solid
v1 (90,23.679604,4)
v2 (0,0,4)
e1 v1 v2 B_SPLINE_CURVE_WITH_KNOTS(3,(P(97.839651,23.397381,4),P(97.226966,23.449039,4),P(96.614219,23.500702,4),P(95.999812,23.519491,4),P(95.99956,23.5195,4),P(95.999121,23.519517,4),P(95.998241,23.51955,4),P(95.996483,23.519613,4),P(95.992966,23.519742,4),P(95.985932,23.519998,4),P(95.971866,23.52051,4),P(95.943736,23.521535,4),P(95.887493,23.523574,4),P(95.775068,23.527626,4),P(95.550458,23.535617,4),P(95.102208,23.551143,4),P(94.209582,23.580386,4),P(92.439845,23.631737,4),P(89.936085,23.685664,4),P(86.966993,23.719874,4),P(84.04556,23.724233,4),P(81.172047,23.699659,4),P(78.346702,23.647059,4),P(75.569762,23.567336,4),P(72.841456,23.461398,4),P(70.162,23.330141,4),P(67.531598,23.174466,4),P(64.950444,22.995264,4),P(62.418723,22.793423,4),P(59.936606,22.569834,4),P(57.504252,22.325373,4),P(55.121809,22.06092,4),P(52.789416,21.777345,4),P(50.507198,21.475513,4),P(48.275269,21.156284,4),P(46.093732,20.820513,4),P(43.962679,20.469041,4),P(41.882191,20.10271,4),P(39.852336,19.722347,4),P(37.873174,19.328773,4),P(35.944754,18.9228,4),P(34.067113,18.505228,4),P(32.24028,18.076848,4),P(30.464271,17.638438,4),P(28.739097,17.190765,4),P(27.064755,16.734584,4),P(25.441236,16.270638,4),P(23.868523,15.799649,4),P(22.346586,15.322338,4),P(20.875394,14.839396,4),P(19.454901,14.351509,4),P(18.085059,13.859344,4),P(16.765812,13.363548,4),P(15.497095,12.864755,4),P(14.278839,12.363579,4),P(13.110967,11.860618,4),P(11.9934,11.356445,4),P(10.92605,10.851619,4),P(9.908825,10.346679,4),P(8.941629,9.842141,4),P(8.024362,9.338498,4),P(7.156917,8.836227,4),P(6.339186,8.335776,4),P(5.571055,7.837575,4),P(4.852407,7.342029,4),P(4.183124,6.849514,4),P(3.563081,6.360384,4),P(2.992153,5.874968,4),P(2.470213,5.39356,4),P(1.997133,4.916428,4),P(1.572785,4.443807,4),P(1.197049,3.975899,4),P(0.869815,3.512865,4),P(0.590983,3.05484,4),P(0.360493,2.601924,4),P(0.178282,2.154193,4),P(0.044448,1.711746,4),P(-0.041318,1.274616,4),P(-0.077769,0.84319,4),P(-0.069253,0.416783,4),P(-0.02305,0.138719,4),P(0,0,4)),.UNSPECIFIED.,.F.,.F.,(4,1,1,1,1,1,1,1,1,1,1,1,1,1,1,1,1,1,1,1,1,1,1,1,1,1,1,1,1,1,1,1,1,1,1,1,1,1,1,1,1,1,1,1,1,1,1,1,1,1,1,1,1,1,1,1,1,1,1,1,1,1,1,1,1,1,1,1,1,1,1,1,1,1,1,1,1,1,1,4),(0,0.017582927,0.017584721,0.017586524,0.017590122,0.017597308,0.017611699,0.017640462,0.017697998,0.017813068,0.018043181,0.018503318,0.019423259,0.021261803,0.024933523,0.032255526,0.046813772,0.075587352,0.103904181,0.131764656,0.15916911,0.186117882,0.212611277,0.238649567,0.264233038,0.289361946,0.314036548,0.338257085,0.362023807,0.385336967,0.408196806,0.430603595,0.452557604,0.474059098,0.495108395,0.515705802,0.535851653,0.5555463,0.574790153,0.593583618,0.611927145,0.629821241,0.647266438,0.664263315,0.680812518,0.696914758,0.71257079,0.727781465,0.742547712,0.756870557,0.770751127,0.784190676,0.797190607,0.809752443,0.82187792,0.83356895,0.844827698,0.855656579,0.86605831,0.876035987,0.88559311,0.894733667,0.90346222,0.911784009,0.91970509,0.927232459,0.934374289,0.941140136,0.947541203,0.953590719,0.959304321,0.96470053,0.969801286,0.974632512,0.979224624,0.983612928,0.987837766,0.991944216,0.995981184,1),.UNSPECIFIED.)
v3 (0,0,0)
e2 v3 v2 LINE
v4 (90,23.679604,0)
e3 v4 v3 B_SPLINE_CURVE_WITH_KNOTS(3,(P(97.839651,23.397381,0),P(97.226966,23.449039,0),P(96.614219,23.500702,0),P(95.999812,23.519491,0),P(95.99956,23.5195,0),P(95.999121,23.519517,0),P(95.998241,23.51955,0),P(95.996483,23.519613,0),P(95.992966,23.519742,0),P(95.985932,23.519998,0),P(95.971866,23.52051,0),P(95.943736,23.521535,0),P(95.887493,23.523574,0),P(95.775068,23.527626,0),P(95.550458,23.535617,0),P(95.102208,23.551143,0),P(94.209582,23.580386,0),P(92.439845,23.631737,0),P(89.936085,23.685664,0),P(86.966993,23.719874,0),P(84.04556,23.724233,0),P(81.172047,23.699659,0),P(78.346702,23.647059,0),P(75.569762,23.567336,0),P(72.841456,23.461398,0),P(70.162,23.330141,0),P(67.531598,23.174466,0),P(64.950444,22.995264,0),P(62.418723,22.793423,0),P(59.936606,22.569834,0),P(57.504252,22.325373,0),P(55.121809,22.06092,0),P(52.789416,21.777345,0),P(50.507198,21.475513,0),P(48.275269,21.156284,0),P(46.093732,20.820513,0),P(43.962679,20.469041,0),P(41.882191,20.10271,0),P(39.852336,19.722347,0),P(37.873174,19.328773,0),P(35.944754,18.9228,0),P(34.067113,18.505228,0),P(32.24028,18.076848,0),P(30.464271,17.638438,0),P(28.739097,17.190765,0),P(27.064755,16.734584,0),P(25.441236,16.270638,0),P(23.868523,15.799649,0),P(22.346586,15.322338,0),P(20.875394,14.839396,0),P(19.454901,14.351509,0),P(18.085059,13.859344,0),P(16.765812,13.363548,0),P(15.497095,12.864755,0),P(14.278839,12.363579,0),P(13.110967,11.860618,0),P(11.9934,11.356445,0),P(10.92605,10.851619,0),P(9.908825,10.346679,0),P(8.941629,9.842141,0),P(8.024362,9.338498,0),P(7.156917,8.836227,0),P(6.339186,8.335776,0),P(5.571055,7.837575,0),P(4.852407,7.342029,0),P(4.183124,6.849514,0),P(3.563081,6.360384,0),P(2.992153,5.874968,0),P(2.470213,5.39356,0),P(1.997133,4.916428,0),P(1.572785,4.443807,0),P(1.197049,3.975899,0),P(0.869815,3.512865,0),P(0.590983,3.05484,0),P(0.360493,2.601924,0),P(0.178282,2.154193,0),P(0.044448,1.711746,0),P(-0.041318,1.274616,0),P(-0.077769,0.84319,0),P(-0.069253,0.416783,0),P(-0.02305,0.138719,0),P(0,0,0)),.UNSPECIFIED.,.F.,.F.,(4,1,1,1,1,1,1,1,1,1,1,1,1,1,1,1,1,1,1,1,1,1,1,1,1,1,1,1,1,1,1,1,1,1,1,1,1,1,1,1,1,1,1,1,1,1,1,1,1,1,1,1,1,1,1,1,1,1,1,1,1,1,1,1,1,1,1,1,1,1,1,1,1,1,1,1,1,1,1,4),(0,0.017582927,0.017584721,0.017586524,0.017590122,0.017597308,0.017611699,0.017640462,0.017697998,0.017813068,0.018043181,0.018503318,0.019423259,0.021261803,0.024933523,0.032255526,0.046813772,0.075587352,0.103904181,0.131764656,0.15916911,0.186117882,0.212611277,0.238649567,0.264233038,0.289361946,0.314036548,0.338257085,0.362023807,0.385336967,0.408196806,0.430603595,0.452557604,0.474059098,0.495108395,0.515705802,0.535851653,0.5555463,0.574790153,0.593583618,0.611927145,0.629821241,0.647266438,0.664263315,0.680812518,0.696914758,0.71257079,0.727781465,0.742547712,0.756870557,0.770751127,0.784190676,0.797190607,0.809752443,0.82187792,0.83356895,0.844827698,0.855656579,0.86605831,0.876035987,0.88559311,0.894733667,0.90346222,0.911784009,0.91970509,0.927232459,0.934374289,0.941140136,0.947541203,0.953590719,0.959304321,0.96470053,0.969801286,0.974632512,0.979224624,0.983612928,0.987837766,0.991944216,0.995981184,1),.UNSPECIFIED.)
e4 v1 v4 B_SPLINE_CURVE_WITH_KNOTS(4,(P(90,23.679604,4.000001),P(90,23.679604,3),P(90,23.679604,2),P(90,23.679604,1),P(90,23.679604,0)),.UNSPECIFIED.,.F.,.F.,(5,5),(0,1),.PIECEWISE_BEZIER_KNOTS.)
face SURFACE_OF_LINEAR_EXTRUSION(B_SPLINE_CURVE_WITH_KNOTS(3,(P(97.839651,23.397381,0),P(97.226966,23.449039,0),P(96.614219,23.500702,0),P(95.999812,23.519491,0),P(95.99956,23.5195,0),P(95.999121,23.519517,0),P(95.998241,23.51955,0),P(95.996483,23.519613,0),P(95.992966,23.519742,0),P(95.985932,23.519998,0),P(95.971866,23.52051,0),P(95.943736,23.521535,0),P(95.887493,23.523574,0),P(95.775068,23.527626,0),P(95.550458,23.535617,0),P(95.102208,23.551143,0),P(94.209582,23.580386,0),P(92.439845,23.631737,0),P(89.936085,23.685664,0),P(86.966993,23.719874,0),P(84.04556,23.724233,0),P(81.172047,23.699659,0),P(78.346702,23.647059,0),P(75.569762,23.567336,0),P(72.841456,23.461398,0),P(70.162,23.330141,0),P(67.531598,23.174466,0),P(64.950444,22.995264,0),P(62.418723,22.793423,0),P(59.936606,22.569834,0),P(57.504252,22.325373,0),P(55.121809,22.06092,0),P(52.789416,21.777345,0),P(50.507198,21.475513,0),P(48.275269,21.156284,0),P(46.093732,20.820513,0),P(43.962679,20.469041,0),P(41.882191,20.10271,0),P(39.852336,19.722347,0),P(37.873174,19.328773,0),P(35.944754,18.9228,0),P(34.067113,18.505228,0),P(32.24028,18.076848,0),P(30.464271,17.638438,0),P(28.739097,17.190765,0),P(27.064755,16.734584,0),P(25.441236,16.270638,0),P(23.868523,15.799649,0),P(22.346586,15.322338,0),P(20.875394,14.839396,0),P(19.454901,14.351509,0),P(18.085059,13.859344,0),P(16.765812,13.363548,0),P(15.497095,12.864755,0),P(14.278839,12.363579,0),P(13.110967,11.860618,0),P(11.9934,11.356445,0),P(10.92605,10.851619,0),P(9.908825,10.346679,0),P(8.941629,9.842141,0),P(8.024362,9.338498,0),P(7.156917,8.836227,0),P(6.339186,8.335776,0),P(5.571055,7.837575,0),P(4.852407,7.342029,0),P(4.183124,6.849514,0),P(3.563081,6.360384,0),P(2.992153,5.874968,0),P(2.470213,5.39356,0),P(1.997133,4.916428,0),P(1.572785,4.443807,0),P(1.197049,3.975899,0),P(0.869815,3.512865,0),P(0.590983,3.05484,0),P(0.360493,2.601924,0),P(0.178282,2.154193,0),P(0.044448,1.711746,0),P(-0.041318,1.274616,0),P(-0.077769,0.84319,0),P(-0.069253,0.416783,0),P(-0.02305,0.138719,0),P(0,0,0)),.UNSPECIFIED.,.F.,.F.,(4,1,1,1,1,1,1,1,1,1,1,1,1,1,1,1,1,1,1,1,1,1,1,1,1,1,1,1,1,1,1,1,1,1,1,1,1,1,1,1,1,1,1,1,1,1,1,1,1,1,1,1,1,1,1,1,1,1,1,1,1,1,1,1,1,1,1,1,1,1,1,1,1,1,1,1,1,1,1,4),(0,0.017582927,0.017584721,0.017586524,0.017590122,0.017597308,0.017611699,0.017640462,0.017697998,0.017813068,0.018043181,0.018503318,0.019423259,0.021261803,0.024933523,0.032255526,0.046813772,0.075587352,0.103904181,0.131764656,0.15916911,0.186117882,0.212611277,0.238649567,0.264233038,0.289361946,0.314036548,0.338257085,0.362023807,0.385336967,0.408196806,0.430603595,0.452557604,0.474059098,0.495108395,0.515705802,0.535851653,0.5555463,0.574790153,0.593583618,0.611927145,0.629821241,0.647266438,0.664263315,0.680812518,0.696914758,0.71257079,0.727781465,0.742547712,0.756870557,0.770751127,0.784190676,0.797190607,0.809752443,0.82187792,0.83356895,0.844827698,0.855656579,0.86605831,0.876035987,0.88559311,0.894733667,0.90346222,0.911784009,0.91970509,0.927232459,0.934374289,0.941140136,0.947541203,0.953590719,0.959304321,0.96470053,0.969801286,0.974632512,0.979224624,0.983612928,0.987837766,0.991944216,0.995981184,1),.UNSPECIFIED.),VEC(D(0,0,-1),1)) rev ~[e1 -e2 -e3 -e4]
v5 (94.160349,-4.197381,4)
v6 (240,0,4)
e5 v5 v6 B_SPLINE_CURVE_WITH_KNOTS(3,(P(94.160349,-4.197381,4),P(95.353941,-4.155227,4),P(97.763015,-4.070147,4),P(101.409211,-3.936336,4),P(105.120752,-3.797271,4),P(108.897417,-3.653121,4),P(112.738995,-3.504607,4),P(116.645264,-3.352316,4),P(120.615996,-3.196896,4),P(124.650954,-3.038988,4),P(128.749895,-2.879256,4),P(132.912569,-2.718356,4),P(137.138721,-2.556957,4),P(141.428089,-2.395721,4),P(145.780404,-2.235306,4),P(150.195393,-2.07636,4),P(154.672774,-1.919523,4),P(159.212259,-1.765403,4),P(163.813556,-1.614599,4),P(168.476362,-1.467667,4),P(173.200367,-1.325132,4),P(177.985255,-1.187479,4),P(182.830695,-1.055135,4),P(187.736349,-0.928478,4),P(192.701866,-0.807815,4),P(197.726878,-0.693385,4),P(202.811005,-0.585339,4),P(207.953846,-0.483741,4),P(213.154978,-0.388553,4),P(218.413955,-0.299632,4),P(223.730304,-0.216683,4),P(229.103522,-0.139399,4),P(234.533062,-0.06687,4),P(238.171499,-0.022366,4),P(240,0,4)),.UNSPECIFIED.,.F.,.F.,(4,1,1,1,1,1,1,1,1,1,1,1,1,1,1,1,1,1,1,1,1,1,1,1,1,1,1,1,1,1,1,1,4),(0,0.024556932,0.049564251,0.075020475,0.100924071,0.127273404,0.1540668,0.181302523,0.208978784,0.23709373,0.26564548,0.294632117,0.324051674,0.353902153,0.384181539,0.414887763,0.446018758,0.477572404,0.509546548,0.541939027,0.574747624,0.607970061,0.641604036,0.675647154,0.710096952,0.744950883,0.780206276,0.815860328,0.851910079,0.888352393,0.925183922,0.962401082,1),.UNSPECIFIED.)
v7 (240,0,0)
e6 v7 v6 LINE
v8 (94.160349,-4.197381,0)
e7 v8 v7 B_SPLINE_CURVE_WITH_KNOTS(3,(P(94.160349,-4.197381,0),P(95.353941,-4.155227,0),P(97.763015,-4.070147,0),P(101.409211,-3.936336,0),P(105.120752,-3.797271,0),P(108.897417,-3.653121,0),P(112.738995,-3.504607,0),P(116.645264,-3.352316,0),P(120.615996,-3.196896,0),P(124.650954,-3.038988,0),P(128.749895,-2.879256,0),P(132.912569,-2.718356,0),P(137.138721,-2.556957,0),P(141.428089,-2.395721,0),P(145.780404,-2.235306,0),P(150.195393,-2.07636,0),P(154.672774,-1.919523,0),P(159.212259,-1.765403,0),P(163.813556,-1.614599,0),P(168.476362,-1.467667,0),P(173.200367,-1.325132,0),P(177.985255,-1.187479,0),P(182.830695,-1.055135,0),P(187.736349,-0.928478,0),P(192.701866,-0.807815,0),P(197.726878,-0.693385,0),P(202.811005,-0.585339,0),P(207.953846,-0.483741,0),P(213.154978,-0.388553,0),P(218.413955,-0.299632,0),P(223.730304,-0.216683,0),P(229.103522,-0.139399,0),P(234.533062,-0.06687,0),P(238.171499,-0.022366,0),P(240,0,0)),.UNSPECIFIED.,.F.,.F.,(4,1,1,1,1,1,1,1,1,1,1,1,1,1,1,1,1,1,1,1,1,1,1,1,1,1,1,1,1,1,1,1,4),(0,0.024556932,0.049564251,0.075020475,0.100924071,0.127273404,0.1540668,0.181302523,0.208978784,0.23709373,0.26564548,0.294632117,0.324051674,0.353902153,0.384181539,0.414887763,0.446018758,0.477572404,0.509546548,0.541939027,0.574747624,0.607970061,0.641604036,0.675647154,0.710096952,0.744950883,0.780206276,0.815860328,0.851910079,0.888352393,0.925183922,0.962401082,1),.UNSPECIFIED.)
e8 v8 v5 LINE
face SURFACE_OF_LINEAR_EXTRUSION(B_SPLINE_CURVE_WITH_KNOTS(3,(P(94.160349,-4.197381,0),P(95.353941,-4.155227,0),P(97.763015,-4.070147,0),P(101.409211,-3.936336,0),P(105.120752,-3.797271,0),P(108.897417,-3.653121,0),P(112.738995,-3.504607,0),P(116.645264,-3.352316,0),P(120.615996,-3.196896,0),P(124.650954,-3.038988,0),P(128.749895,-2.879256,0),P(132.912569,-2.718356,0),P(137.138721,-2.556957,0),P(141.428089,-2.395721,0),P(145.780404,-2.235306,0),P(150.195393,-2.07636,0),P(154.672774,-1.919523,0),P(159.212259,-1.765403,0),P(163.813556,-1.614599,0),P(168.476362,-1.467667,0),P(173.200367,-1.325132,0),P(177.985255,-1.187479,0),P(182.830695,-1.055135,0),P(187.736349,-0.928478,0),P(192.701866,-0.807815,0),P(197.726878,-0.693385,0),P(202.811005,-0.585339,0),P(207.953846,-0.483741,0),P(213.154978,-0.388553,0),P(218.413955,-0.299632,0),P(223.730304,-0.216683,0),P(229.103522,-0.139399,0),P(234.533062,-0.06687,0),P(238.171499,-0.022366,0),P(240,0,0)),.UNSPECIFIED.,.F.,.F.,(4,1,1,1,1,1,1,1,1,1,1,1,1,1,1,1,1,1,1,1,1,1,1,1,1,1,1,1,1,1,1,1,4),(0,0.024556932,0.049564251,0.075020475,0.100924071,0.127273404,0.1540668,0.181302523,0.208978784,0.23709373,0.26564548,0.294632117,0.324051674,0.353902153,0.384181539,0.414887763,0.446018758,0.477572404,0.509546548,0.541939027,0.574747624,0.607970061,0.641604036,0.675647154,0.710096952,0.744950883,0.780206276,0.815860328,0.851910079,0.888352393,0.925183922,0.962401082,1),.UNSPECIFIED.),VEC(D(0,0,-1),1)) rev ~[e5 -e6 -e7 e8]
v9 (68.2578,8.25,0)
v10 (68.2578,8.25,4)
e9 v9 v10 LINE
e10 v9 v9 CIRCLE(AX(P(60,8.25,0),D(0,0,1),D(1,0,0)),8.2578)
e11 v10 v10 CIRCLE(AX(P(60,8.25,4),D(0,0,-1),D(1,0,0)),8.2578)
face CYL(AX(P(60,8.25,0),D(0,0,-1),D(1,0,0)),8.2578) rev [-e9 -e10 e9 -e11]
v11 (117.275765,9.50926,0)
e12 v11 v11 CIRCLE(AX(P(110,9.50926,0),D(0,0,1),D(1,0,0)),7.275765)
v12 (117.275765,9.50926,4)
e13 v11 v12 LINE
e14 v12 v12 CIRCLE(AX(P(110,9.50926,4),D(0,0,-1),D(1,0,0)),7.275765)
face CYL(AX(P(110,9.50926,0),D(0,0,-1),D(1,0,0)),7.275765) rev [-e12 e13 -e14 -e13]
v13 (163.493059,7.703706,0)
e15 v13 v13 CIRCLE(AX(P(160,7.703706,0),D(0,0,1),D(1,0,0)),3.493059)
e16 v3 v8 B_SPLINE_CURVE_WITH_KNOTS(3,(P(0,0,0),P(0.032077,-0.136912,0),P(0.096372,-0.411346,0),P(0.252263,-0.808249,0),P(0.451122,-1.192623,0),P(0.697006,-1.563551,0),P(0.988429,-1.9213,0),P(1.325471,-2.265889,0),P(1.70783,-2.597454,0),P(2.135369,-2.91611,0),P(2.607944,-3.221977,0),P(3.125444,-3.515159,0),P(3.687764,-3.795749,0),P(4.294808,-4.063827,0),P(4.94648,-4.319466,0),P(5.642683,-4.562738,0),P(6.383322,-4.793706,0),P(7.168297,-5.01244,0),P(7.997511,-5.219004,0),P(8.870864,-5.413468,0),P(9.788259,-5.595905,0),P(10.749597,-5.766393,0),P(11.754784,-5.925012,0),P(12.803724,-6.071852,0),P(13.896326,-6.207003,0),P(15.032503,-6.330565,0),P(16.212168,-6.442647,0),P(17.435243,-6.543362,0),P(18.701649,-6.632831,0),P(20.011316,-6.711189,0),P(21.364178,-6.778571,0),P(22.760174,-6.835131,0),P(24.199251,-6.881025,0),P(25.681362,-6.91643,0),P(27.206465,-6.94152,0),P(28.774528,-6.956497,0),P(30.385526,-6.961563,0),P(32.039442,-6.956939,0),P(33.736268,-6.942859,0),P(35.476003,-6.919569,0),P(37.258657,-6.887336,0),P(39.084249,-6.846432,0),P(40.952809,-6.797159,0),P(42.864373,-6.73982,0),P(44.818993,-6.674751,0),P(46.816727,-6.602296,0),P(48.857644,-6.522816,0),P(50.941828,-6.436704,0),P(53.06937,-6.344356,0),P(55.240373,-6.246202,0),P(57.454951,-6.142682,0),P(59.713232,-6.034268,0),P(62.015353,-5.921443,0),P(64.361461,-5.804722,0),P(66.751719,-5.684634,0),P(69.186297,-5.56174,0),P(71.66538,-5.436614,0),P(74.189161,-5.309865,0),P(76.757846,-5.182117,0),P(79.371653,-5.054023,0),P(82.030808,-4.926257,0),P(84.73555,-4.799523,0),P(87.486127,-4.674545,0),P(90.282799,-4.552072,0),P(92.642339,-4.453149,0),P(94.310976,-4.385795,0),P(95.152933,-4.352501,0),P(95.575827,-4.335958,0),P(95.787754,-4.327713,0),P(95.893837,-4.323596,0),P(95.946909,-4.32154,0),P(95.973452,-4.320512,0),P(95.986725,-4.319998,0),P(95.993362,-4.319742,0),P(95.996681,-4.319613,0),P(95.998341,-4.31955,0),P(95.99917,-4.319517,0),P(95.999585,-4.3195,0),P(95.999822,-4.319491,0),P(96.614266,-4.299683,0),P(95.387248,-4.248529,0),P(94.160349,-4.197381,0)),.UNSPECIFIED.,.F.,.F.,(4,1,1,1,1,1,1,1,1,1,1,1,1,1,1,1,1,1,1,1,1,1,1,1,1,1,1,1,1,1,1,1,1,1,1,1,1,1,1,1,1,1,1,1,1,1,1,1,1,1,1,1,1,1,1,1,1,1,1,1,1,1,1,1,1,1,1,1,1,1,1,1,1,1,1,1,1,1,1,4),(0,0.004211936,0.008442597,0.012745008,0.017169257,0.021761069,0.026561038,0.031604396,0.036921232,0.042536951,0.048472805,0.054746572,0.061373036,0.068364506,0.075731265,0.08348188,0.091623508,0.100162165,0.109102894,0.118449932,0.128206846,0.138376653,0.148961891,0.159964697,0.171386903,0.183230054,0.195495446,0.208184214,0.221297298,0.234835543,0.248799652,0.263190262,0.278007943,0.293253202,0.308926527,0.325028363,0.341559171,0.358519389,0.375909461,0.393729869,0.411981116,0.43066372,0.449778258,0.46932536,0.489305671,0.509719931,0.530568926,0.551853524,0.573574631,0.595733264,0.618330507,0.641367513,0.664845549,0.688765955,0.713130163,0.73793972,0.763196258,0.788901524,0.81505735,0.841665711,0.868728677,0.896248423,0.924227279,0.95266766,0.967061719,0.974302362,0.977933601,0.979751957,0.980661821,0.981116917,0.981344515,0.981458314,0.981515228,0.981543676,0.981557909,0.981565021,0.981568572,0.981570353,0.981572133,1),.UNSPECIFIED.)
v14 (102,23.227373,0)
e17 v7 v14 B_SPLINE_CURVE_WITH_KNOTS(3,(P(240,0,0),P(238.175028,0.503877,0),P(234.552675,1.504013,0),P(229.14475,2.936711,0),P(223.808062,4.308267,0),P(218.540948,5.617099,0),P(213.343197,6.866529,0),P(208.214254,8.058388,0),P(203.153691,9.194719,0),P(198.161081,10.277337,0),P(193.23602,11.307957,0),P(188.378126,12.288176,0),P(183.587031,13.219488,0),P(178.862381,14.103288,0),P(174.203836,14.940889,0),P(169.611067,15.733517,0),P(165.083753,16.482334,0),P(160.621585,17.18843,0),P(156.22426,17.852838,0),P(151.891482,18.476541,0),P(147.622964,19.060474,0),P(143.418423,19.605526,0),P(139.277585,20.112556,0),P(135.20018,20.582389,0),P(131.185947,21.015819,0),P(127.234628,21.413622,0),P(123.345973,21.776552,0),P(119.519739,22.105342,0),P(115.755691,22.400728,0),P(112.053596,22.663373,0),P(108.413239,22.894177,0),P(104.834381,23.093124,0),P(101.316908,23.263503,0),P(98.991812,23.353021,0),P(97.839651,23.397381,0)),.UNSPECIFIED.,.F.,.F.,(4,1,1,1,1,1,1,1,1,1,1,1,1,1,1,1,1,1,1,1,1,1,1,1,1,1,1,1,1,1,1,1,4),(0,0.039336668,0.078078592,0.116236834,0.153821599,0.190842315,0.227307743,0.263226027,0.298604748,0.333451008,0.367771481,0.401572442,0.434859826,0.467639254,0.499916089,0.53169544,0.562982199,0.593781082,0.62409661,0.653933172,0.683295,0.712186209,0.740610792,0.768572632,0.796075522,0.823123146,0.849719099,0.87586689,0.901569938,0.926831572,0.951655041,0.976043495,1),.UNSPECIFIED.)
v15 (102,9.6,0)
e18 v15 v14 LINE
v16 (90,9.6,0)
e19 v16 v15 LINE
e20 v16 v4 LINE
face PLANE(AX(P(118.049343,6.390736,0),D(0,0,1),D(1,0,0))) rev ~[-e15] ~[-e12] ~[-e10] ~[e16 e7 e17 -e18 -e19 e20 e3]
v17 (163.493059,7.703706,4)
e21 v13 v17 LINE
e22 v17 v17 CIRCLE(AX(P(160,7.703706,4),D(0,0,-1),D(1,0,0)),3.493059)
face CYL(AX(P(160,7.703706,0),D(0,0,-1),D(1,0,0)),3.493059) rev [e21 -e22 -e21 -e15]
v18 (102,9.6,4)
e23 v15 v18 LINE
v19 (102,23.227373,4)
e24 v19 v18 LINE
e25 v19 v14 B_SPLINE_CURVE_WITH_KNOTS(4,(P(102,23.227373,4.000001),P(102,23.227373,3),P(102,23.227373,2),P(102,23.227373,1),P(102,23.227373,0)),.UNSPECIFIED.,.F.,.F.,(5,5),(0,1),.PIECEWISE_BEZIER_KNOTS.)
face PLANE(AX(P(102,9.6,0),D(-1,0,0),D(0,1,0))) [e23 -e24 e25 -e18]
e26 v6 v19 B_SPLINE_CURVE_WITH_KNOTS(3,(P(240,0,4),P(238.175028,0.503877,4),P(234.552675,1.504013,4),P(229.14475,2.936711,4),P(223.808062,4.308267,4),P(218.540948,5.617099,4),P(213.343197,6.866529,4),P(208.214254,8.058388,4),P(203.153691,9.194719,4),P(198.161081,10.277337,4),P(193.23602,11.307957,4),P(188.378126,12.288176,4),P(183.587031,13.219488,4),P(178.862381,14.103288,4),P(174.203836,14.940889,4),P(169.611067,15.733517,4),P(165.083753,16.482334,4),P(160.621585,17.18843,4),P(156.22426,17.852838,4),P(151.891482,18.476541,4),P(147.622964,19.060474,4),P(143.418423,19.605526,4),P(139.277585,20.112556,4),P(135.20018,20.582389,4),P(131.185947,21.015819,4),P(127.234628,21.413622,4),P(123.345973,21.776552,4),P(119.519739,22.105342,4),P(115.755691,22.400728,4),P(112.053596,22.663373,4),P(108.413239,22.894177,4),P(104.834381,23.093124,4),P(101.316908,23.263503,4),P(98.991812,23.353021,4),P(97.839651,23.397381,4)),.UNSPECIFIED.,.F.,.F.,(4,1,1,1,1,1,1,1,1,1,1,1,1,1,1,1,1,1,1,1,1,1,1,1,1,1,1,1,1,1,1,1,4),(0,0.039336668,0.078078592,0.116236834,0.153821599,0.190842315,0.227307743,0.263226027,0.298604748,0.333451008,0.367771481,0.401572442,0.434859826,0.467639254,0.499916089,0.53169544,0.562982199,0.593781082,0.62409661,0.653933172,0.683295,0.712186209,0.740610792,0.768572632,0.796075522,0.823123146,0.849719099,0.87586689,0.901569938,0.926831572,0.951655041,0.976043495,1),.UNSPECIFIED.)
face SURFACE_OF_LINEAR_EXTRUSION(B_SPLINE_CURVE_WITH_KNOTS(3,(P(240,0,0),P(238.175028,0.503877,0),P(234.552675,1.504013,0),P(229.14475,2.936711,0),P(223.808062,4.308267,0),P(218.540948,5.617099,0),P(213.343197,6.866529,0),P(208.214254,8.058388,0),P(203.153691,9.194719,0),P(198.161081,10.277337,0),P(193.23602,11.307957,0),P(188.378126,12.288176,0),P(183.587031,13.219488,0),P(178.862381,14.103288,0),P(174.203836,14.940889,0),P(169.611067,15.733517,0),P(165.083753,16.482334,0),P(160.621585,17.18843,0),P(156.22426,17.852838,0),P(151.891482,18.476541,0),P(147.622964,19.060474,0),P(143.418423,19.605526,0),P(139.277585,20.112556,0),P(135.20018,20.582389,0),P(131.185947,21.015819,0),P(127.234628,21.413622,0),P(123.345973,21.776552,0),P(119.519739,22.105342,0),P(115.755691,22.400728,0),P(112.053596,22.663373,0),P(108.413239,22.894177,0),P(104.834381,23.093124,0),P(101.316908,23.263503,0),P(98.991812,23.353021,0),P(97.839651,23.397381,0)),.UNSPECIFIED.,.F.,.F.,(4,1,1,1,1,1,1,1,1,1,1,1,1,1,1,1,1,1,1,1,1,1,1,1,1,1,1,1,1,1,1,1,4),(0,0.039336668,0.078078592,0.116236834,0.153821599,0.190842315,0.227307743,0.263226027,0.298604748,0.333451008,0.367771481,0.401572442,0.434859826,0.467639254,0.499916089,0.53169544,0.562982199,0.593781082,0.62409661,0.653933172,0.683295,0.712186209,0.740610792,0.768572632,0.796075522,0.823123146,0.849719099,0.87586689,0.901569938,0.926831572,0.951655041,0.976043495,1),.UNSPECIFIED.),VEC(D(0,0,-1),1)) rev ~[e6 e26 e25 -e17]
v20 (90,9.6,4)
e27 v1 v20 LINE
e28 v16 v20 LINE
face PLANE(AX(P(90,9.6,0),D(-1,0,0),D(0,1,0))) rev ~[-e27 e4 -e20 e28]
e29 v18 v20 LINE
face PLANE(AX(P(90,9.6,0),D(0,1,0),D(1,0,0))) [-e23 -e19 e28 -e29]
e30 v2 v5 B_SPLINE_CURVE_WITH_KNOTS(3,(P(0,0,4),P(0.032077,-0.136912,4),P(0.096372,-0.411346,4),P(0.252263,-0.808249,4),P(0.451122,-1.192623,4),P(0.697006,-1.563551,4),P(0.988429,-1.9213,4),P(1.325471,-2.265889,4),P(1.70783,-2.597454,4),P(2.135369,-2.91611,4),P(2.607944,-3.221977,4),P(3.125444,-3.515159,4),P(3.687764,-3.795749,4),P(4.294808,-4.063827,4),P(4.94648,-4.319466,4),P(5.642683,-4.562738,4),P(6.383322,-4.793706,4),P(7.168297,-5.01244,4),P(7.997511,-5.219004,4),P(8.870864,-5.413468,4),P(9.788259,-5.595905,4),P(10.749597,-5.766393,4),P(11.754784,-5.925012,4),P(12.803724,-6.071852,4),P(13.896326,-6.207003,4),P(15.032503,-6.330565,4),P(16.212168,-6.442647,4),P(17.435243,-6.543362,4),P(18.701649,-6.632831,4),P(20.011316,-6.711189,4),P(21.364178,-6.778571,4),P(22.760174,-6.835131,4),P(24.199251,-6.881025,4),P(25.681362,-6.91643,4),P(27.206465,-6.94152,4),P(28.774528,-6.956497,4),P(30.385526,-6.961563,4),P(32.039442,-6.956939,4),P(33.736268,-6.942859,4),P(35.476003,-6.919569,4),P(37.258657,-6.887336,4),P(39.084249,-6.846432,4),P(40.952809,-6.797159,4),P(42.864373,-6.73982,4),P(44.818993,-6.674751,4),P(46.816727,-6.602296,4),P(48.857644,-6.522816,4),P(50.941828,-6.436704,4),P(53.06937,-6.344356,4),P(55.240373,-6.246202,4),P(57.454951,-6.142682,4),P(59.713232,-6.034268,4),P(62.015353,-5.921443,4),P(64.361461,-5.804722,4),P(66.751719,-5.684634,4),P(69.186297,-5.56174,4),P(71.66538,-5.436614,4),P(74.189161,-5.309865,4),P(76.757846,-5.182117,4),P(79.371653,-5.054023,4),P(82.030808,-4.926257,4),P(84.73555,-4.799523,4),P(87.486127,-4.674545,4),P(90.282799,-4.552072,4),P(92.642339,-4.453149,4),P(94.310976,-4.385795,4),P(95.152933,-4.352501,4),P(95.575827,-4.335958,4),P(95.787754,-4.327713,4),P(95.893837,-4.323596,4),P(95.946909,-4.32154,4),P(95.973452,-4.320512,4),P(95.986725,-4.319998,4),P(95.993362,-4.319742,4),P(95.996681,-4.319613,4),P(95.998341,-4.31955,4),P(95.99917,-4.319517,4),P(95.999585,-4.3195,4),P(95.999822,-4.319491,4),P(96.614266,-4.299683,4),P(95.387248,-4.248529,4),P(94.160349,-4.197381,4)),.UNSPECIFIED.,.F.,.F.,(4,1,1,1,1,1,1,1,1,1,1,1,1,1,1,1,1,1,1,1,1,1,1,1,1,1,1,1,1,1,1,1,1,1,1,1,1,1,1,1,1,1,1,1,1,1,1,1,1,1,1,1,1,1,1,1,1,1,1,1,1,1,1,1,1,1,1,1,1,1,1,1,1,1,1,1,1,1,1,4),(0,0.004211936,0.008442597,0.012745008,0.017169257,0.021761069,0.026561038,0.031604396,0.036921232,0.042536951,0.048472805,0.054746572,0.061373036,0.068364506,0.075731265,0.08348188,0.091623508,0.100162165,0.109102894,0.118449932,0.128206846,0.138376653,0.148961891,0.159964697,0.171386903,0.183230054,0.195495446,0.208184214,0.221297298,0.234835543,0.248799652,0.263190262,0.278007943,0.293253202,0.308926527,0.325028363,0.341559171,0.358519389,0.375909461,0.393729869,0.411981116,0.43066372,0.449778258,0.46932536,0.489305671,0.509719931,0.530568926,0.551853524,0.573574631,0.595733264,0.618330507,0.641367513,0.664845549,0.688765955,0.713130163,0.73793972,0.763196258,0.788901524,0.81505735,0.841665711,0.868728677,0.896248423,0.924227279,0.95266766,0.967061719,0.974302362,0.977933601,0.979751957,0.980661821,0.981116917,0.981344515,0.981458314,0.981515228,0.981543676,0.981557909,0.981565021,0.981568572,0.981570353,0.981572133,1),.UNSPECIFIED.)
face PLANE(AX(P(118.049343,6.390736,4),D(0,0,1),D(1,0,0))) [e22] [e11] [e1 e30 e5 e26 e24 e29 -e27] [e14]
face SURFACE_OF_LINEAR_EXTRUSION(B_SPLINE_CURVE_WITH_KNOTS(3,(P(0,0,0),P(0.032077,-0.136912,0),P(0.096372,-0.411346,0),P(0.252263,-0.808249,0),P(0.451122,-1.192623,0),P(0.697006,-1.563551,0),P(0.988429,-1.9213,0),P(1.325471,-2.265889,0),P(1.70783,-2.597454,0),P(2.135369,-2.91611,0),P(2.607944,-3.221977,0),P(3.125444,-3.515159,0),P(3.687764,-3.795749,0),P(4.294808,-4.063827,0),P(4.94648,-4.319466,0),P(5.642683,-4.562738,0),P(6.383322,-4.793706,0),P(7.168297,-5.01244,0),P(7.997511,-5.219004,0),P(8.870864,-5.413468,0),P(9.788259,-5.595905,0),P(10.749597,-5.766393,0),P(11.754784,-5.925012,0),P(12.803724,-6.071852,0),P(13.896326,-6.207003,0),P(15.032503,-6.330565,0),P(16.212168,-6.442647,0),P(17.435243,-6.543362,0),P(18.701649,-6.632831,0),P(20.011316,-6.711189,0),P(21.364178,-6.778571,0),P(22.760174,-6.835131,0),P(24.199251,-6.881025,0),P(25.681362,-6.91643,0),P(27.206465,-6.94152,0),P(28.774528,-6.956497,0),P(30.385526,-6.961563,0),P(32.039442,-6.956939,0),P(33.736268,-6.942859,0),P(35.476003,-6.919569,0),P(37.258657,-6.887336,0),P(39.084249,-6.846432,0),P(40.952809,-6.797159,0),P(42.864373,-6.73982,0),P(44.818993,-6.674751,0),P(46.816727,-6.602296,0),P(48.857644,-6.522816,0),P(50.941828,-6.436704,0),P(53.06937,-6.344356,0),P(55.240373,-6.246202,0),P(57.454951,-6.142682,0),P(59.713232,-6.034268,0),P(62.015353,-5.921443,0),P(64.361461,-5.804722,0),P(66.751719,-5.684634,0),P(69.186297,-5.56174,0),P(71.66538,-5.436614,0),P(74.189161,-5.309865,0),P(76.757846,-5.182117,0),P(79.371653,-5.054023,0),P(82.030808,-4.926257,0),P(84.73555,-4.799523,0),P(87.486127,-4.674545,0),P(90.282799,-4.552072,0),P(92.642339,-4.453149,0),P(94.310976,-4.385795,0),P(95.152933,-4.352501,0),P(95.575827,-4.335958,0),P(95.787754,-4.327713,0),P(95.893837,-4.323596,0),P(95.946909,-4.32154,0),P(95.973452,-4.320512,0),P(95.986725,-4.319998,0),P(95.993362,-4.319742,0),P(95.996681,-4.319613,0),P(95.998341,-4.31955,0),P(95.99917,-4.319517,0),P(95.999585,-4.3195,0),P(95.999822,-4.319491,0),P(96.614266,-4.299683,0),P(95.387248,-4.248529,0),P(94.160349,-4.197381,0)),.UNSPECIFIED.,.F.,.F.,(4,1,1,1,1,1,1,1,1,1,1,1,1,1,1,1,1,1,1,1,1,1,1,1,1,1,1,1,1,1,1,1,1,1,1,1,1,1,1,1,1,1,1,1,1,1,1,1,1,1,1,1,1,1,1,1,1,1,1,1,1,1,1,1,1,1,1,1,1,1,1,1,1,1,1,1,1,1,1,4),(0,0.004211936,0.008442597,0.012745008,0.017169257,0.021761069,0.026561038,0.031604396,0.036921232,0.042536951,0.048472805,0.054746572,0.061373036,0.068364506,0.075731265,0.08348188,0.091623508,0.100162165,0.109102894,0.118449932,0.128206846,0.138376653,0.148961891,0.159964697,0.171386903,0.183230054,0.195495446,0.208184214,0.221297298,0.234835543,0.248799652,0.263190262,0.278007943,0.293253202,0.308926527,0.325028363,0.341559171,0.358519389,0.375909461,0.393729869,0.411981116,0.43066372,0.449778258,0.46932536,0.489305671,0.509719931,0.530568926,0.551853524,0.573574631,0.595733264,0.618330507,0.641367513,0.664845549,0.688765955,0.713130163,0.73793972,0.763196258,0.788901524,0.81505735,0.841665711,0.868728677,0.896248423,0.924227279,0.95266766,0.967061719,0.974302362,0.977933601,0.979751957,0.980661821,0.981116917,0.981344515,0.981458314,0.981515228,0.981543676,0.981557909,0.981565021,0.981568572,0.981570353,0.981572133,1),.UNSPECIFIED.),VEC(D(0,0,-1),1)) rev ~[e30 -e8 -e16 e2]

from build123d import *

# Parameters (mm, degrees)
EXTRUDE_1_DEPTH     = 4
SKETCH_2_R          = 8.2578
CUT_EXTRUDE_1_DEPTH = 242.202599346
SKETCH_3_R          = 7.275764765
CUT_EXTRUDE_2_DEPTH = 242.202599346
SKETCH_4_R          = 3.49305919
CUT_EXTRUDE_3_DEPTH = 242.202599346
SKETCH_5_W          = 12
SKETCH_5_H          = 20.4
CUT_EXTRUDE_4_DEPTH = 242.202599346


with BuildPart() as part:
    # 草图1 → 凸台-拉伸1 (new body)
    with BuildSketch(Plane.XY):
        with BuildLine():
            add(Edge.make_bspline(
                [(240, 0), (238.17502762, 0.503877157), (234.552675186, 1.504013196), (229.144749778, 2.936711102), (223.80806151, 4.308267422), (218.540948315, 5.617098938), (213.343197185, 6.866529147), (208.214254003, 8.058388035), (203.15369138, 9.194718503), (198.161080577, 10.277336529), (193.236020433, 11.307957122), (188.378126395, 12.288176228), (183.587030984, 13.219487875), (178.862381096, 14.103288415), (174.20383633, 14.94088935), (169.611066641, 15.733517024), (165.083753424, 16.48233437), (160.621585255, 17.188430181), (156.224259941, 17.852838479), (151.891482042, 18.476541482), (147.622963921, 19.060474437), (143.418423037, 19.605526314), (139.277584839, 20.112556204), (135.200180439, 20.582388904), (131.185946744, 21.015818963), (127.234627591, 21.413621778), (123.345973004, 21.776552314), (119.519739391, 22.105341593), (115.755690711, 22.400727766), (112.053595721, 22.663373335), (108.413239177, 22.894176737), (104.834380856, 23.09312439), (101.31690831, 23.263502654), (98.991812062, 23.353021494), (97.839651, 23.397381)],
                knots=[0, 0, 0, 0, 0.039336668, 0.078078592, 0.116236834, 0.153821599, 0.190842315, 0.227307743, 0.263226027, 0.298604748, 0.333451008, 0.367771481, 0.401572442, 0.434859826, 0.467639254, 0.499916089, 0.53169544, 0.562982199, 0.593781082, 0.62409661, 0.653933172, 0.683295, 0.712186209, 0.740610792, 0.768572632, 0.796075522, 0.823123146, 0.849719099, 0.87586689, 0.901569938, 0.926831572, 0.951655041, 0.976043495, 1, 1, 1, 1], degree=3))
            add(Edge.make_bspline(
                [(97.839651, 23.397381), (97.226966307, 23.449039102), (96.614219107, 23.500702474), (95.999811647, 23.51949076), (95.999560338, 23.519500462), (95.999120662, 23.519516542), (95.998241355, 23.51954958), (95.996482988, 23.519613016), (95.992966008, 23.519741888), (95.985932345, 23.519998315), (95.971865659, 23.520510119), (95.943736443, 23.521535357), (95.887493304, 23.523574403), (95.775067579, 23.527626449), (95.550458266, 23.535617202), (95.102207861, 23.551142578), (94.209582037, 23.580385825), (92.439845376, 23.631737223), (89.936085165, 23.685664421), (86.966992664, 23.719873594), (84.045559907, 23.724232935), (81.17204691, 23.699658881), (78.346701734, 23.647058523), (75.569762496, 23.567335691), (72.841456217, 23.461398305), (70.161999702, 23.330141011), (67.531597571, 23.174466006), (64.95044447, 22.995263944), (62.418723463, 22.793422793), (59.936605574, 22.569833811), (57.504251516, 22.325372701), (55.12180932, 22.06092015), (52.789416328, 21.777345145), (50.507198451, 21.475512573), (48.275269484, 21.156284343), (46.093732456, 20.820512998), (43.962679202, 20.469041082), (41.882190516, 20.102709676), (39.852336011, 19.722346633), (37.873174485, 19.328773149), (35.944754253, 18.922799873), (34.0671133, 18.505228482), (32.240279689, 18.076847911), (30.464271312, 17.638437807), (28.739096854, 17.190765253), (27.064755379, 16.734584348), (25.441236471, 16.270638001), (23.86852294, 15.799649451), (22.346586305, 15.322338273), (20.875393699, 14.839395746), (19.454901269, 14.351509133), (18.085059478, 13.859344064), (16.765811981, 13.363548129), (15.497095001, 12.86475515), (14.278838907, 12.363578802), (13.110967321, 11.860617848), (11.993400347, 11.356444633), (10.926050231, 10.851619269), (9.908825297, 10.346679325), (8.941629343, 9.842141012), (8.024362218, 9.338498323), (7.156916873, 8.836227353), (6.339185804, 8.335776371), (5.571054955, 7.837575288), (4.852407002, 7.342028613), (4.183123727, 6.849513508), (3.563081387, 6.360384134), (2.992153385, 5.874967569), (2.470213127, 5.393559867), (1.997132785, 4.916427887), (1.572785196, 4.443807495), (1.197048819, 3.975898622), (0.869815163, 3.512865181), (0.590983079, 3.05484006), (0.360493175, 2.601923891), (0.178281873, 2.154192638), (0.044447501, 1.711745574), (-0.041317513, 1.274616255), (-0.077768968, 0.843189571), (-0.069253211, 0.416782674), (-0.023049702, 0.138718712), (0, 0)],
                knots=[0, 0, 0, 0, 0.017582927, 0.017584721, 0.017586524, 0.017590122, 0.017597308, 0.017611699, 0.017640462, 0.017697998, 0.017813068, 0.018043181, 0.018503318, 0.019423259, 0.021261803, 0.024933523, 0.032255526, 0.046813772, 0.075587352, 0.103904181, 0.131764656, 0.15916911, 0.186117882, 0.212611277, 0.238649567, 0.264233038, 0.289361946, 0.314036548, 0.338257085, 0.362023807, 0.385336967, 0.408196806, 0.430603595, 0.452557604, 0.474059098, 0.495108395, 0.515705802, 0.535851653, 0.5555463, 0.574790153, 0.593583618, 0.611927145, 0.629821241, 0.647266438, 0.664263315, 0.680812518, 0.696914758, 0.71257079, 0.727781465, 0.742547712, 0.756870557, 0.770751127, 0.784190676, 0.797190607, 0.809752443, 0.82187792, 0.83356895, 0.844827698, 0.855656579, 0.86605831, 0.876035987, 0.88559311, 0.894733667, 0.90346222, 0.911784009, 0.91970509, 0.927232459, 0.934374289, 0.941140136, 0.947541203, 0.953590719, 0.959304321, 0.96470053, 0.969801286, 0.974632512, 0.979224624, 0.983612928, 0.987837766, 0.991944216, 0.995981184, 1, 1, 1, 1], degree=3))
            add(Edge.make_bspline(
                [(0, 0), (0.032076521, -0.13691234), (0.096372164, -0.41134568), (0.252263385, -0.808249044), (0.451122139, -1.192622996), (0.69700614, -1.563551239), (0.988428719, -1.92129973), (1.325470715, -2.265889289), (1.707830218, -2.597453587), (2.135369336, -2.916109668), (2.607944078, -3.221977371), (3.125444179, -3.515158656), (3.687763801, -3.795749274), (4.294807935, -4.06382671), (4.946480007, -4.319465862), (5.642683289, -4.56273801), (6.383322015, -4.793706396), (7.168297169, -5.012439824), (7.997510637, -5.219004038), (8.870863998, -5.413468384), (9.788258839, -5.595905068), (10.749597368, -5.766393087), (11.754783929, -5.925012238), (12.80372392, -6.071852048), (13.896326279, -6.20700313), (15.03250273, -6.330565391), (16.212168398, -6.442646554), (17.435242528, -6.543362452), (18.70164871, -6.632831224), (20.011315794, -6.711188759), (21.364177656, -6.778571473), (22.760174201, -6.835130772), (24.199251318, -6.881025382), (25.681361566, -6.916429589), (27.206464919, -6.941520357), (28.774527995, -6.956497223), (30.385526154, -6.961562921), (32.039442244, -6.956939132), (33.736267756, -6.942859097), (35.476002731, -6.919568942), (37.258656961, -6.887336234), (39.084249281, -6.846431872), (40.952808512, -6.797158584), (42.864373386, -6.739820317), (44.818992939, -6.674750629), (46.816726763, -6.602296183), (48.857644498, -6.522816498), (50.941828345, -6.436704019), (53.069369863, -6.344356166), (55.240372802, -6.246201986), (57.454951474, -6.142682478), (59.713232279, -6.034268246), (62.015352511, -5.921443226), (64.361461256, -5.804722162), (66.751718806, -5.684634046), (69.186297284, -5.561739751), (71.665379639, -5.436614277), (74.189160956, -5.309864833), (76.757846377, -5.182117382), (79.371652787, -5.054022914), (82.030807732, -4.926257095), (84.73554955, -4.799522903), (87.486127142, -4.674544836), (90.282798977, -4.552071591), (92.642339394, -4.453149116), (94.310976431, -4.385795256), (95.152933321, -4.352501022), (95.575827168, -4.335958114), (95.787753729, -4.327713039), (95.893836919, -4.323595898), (95.946908648, -4.321539514), (95.973451655, -4.320511682), (95.986725325, -4.319998128), (95.993362343, -4.319741909), (95.996681321, -4.31961303), (95.998340689, -4.319549549), (95.999170328, -4.319516576), (95.999585007, -4.319500464), (95.999821974, -4.31949074), (96.614265681, -4.299682778), (95.387248082, -4.248529419), (94.160349, -4.197381)],
                knots=[0, 0, 0, 0, 0.004211936, 0.008442597, 0.012745008, 0.017169257, 0.021761069, 0.026561038, 0.031604396, 0.036921232, 0.042536951, 0.048472805, 0.054746572, 0.061373036, 0.068364506, 0.075731265, 0.08348188, 0.091623508, 0.100162165, 0.109102894, 0.118449932, 0.128206846, 0.138376653, 0.148961891, 0.159964697, 0.171386903, 0.183230054, 0.195495446, 0.208184214, 0.221297298, 0.234835543, 0.248799652, 0.263190262, 0.278007943, 0.293253202, 0.308926527, 0.325028363, 0.341559171, 0.358519389, 0.375909461, 0.393729869, 0.411981116, 0.43066372, 0.449778258, 0.46932536, 0.489305671, 0.509719931, 0.530568926, 0.551853524, 0.573574631, 0.595733264, 0.618330507, 0.641367513, 0.664845549, 0.688765955, 0.713130163, 0.73793972, 0.763196258, 0.788901524, 0.81505735, 0.841665711, 0.868728677, 0.896248423, 0.924227279, 0.95266766, 0.967061719, 0.974302362, 0.977933601, 0.979751957, 0.980661821, 0.981116917, 0.981344515, 0.981458314, 0.981515228, 0.981543676, 0.981557909, 0.981565021, 0.981568572, 0.981570353, 0.981572133, 1, 1, 1, 1], degree=3))
            add(Edge.make_bspline(
                [(94.160349, -4.197381), (95.353940767, -4.155227461), (97.763015391, -4.070147265), (101.409211271, -3.936336063), (105.120752046, -3.797271169), (108.897416594, -3.653121285), (112.738995118, -3.504606578), (116.645264344, -3.352316109), (120.615996167, -3.196895567), (124.650953948, -3.038988445), (128.749894718, -2.879255578), (132.912568867, -2.718356211), (137.138720999, -2.556957029), (141.428088913, -2.395720601), (145.780404472, -2.235306022), (150.195392741, -2.076360401), (154.672773676, -1.919522787), (159.212259498, -1.765403314), (163.813556162, -1.614598923), (168.47636194, -1.467667479), (173.20036748, -1.325131951), (177.985254586, -1.187478891), (182.830695046, -1.055134634), (187.736349264, -0.928478427), (192.701865657, -0.807814836), (197.726878229, -0.693385327), (202.811005017, -0.585338659), (207.953845588, -0.48374147), (213.154977694, -0.388553332), (218.413955211, -0.299632134), (223.73030432, -0.216683041), (229.103521669, -0.139399485), (234.53306244, -0.066869757), (238.171498969, -0.022365615), (240, 0)],
                knots=[0, 0, 0, 0, 0.024556932, 0.049564251, 0.075020475, 0.100924071, 0.127273404, 0.1540668, 0.181302523, 0.208978784, 0.23709373, 0.26564548, 0.294632117, 0.324051674, 0.353902153, 0.384181539, 0.414887763, 0.446018758, 0.477572404, 0.509546548, 0.541939027, 0.574747624, 0.607970061, 0.641604036, 0.675647154, 0.710096952, 0.744950883, 0.780206276, 0.815860328, 0.851910079, 0.888352393, 0.925183922, 0.962401082, 1, 1, 1, 1], degree=3))
        make_face()
    extrude(amount=EXTRUDE_1_DEPTH)

    # 草图2 → 切除-拉伸1 (cut, through all)
    with BuildSketch(Plane.XY):
        with Locations((60, 8.25)):
            Circle(SKETCH_2_R)
    extrude(amount=CUT_EXTRUDE_1_DEPTH, mode=Mode.SUBTRACT)

    # 草图3 → 切除-拉伸2 (cut, through all)
    with BuildSketch(Plane.XY):
        with Locations((110, 9.50926)):
            Circle(SKETCH_3_R)
    extrude(amount=CUT_EXTRUDE_2_DEPTH, mode=Mode.SUBTRACT)

    # 草图4 → 切除-拉伸3 (cut, through all)
    with BuildSketch(Plane.XY):
        with Locations((160, 7.703706)):
            Circle(SKETCH_4_R)
    extrude(amount=CUT_EXTRUDE_3_DEPTH, mode=Mode.SUBTRACT)

    # 草图5 → 切除-拉伸4 (cut, through all)
    with BuildSketch(Plane.XY):
        with Locations((96, 19.8)):
            Rectangle(SKETCH_5_W, SKETCH_5_H)
    extrude(amount=CUT_EXTRUDE_4_DEPTH, mode=Mode.SUBTRACT)


solid = part.part
